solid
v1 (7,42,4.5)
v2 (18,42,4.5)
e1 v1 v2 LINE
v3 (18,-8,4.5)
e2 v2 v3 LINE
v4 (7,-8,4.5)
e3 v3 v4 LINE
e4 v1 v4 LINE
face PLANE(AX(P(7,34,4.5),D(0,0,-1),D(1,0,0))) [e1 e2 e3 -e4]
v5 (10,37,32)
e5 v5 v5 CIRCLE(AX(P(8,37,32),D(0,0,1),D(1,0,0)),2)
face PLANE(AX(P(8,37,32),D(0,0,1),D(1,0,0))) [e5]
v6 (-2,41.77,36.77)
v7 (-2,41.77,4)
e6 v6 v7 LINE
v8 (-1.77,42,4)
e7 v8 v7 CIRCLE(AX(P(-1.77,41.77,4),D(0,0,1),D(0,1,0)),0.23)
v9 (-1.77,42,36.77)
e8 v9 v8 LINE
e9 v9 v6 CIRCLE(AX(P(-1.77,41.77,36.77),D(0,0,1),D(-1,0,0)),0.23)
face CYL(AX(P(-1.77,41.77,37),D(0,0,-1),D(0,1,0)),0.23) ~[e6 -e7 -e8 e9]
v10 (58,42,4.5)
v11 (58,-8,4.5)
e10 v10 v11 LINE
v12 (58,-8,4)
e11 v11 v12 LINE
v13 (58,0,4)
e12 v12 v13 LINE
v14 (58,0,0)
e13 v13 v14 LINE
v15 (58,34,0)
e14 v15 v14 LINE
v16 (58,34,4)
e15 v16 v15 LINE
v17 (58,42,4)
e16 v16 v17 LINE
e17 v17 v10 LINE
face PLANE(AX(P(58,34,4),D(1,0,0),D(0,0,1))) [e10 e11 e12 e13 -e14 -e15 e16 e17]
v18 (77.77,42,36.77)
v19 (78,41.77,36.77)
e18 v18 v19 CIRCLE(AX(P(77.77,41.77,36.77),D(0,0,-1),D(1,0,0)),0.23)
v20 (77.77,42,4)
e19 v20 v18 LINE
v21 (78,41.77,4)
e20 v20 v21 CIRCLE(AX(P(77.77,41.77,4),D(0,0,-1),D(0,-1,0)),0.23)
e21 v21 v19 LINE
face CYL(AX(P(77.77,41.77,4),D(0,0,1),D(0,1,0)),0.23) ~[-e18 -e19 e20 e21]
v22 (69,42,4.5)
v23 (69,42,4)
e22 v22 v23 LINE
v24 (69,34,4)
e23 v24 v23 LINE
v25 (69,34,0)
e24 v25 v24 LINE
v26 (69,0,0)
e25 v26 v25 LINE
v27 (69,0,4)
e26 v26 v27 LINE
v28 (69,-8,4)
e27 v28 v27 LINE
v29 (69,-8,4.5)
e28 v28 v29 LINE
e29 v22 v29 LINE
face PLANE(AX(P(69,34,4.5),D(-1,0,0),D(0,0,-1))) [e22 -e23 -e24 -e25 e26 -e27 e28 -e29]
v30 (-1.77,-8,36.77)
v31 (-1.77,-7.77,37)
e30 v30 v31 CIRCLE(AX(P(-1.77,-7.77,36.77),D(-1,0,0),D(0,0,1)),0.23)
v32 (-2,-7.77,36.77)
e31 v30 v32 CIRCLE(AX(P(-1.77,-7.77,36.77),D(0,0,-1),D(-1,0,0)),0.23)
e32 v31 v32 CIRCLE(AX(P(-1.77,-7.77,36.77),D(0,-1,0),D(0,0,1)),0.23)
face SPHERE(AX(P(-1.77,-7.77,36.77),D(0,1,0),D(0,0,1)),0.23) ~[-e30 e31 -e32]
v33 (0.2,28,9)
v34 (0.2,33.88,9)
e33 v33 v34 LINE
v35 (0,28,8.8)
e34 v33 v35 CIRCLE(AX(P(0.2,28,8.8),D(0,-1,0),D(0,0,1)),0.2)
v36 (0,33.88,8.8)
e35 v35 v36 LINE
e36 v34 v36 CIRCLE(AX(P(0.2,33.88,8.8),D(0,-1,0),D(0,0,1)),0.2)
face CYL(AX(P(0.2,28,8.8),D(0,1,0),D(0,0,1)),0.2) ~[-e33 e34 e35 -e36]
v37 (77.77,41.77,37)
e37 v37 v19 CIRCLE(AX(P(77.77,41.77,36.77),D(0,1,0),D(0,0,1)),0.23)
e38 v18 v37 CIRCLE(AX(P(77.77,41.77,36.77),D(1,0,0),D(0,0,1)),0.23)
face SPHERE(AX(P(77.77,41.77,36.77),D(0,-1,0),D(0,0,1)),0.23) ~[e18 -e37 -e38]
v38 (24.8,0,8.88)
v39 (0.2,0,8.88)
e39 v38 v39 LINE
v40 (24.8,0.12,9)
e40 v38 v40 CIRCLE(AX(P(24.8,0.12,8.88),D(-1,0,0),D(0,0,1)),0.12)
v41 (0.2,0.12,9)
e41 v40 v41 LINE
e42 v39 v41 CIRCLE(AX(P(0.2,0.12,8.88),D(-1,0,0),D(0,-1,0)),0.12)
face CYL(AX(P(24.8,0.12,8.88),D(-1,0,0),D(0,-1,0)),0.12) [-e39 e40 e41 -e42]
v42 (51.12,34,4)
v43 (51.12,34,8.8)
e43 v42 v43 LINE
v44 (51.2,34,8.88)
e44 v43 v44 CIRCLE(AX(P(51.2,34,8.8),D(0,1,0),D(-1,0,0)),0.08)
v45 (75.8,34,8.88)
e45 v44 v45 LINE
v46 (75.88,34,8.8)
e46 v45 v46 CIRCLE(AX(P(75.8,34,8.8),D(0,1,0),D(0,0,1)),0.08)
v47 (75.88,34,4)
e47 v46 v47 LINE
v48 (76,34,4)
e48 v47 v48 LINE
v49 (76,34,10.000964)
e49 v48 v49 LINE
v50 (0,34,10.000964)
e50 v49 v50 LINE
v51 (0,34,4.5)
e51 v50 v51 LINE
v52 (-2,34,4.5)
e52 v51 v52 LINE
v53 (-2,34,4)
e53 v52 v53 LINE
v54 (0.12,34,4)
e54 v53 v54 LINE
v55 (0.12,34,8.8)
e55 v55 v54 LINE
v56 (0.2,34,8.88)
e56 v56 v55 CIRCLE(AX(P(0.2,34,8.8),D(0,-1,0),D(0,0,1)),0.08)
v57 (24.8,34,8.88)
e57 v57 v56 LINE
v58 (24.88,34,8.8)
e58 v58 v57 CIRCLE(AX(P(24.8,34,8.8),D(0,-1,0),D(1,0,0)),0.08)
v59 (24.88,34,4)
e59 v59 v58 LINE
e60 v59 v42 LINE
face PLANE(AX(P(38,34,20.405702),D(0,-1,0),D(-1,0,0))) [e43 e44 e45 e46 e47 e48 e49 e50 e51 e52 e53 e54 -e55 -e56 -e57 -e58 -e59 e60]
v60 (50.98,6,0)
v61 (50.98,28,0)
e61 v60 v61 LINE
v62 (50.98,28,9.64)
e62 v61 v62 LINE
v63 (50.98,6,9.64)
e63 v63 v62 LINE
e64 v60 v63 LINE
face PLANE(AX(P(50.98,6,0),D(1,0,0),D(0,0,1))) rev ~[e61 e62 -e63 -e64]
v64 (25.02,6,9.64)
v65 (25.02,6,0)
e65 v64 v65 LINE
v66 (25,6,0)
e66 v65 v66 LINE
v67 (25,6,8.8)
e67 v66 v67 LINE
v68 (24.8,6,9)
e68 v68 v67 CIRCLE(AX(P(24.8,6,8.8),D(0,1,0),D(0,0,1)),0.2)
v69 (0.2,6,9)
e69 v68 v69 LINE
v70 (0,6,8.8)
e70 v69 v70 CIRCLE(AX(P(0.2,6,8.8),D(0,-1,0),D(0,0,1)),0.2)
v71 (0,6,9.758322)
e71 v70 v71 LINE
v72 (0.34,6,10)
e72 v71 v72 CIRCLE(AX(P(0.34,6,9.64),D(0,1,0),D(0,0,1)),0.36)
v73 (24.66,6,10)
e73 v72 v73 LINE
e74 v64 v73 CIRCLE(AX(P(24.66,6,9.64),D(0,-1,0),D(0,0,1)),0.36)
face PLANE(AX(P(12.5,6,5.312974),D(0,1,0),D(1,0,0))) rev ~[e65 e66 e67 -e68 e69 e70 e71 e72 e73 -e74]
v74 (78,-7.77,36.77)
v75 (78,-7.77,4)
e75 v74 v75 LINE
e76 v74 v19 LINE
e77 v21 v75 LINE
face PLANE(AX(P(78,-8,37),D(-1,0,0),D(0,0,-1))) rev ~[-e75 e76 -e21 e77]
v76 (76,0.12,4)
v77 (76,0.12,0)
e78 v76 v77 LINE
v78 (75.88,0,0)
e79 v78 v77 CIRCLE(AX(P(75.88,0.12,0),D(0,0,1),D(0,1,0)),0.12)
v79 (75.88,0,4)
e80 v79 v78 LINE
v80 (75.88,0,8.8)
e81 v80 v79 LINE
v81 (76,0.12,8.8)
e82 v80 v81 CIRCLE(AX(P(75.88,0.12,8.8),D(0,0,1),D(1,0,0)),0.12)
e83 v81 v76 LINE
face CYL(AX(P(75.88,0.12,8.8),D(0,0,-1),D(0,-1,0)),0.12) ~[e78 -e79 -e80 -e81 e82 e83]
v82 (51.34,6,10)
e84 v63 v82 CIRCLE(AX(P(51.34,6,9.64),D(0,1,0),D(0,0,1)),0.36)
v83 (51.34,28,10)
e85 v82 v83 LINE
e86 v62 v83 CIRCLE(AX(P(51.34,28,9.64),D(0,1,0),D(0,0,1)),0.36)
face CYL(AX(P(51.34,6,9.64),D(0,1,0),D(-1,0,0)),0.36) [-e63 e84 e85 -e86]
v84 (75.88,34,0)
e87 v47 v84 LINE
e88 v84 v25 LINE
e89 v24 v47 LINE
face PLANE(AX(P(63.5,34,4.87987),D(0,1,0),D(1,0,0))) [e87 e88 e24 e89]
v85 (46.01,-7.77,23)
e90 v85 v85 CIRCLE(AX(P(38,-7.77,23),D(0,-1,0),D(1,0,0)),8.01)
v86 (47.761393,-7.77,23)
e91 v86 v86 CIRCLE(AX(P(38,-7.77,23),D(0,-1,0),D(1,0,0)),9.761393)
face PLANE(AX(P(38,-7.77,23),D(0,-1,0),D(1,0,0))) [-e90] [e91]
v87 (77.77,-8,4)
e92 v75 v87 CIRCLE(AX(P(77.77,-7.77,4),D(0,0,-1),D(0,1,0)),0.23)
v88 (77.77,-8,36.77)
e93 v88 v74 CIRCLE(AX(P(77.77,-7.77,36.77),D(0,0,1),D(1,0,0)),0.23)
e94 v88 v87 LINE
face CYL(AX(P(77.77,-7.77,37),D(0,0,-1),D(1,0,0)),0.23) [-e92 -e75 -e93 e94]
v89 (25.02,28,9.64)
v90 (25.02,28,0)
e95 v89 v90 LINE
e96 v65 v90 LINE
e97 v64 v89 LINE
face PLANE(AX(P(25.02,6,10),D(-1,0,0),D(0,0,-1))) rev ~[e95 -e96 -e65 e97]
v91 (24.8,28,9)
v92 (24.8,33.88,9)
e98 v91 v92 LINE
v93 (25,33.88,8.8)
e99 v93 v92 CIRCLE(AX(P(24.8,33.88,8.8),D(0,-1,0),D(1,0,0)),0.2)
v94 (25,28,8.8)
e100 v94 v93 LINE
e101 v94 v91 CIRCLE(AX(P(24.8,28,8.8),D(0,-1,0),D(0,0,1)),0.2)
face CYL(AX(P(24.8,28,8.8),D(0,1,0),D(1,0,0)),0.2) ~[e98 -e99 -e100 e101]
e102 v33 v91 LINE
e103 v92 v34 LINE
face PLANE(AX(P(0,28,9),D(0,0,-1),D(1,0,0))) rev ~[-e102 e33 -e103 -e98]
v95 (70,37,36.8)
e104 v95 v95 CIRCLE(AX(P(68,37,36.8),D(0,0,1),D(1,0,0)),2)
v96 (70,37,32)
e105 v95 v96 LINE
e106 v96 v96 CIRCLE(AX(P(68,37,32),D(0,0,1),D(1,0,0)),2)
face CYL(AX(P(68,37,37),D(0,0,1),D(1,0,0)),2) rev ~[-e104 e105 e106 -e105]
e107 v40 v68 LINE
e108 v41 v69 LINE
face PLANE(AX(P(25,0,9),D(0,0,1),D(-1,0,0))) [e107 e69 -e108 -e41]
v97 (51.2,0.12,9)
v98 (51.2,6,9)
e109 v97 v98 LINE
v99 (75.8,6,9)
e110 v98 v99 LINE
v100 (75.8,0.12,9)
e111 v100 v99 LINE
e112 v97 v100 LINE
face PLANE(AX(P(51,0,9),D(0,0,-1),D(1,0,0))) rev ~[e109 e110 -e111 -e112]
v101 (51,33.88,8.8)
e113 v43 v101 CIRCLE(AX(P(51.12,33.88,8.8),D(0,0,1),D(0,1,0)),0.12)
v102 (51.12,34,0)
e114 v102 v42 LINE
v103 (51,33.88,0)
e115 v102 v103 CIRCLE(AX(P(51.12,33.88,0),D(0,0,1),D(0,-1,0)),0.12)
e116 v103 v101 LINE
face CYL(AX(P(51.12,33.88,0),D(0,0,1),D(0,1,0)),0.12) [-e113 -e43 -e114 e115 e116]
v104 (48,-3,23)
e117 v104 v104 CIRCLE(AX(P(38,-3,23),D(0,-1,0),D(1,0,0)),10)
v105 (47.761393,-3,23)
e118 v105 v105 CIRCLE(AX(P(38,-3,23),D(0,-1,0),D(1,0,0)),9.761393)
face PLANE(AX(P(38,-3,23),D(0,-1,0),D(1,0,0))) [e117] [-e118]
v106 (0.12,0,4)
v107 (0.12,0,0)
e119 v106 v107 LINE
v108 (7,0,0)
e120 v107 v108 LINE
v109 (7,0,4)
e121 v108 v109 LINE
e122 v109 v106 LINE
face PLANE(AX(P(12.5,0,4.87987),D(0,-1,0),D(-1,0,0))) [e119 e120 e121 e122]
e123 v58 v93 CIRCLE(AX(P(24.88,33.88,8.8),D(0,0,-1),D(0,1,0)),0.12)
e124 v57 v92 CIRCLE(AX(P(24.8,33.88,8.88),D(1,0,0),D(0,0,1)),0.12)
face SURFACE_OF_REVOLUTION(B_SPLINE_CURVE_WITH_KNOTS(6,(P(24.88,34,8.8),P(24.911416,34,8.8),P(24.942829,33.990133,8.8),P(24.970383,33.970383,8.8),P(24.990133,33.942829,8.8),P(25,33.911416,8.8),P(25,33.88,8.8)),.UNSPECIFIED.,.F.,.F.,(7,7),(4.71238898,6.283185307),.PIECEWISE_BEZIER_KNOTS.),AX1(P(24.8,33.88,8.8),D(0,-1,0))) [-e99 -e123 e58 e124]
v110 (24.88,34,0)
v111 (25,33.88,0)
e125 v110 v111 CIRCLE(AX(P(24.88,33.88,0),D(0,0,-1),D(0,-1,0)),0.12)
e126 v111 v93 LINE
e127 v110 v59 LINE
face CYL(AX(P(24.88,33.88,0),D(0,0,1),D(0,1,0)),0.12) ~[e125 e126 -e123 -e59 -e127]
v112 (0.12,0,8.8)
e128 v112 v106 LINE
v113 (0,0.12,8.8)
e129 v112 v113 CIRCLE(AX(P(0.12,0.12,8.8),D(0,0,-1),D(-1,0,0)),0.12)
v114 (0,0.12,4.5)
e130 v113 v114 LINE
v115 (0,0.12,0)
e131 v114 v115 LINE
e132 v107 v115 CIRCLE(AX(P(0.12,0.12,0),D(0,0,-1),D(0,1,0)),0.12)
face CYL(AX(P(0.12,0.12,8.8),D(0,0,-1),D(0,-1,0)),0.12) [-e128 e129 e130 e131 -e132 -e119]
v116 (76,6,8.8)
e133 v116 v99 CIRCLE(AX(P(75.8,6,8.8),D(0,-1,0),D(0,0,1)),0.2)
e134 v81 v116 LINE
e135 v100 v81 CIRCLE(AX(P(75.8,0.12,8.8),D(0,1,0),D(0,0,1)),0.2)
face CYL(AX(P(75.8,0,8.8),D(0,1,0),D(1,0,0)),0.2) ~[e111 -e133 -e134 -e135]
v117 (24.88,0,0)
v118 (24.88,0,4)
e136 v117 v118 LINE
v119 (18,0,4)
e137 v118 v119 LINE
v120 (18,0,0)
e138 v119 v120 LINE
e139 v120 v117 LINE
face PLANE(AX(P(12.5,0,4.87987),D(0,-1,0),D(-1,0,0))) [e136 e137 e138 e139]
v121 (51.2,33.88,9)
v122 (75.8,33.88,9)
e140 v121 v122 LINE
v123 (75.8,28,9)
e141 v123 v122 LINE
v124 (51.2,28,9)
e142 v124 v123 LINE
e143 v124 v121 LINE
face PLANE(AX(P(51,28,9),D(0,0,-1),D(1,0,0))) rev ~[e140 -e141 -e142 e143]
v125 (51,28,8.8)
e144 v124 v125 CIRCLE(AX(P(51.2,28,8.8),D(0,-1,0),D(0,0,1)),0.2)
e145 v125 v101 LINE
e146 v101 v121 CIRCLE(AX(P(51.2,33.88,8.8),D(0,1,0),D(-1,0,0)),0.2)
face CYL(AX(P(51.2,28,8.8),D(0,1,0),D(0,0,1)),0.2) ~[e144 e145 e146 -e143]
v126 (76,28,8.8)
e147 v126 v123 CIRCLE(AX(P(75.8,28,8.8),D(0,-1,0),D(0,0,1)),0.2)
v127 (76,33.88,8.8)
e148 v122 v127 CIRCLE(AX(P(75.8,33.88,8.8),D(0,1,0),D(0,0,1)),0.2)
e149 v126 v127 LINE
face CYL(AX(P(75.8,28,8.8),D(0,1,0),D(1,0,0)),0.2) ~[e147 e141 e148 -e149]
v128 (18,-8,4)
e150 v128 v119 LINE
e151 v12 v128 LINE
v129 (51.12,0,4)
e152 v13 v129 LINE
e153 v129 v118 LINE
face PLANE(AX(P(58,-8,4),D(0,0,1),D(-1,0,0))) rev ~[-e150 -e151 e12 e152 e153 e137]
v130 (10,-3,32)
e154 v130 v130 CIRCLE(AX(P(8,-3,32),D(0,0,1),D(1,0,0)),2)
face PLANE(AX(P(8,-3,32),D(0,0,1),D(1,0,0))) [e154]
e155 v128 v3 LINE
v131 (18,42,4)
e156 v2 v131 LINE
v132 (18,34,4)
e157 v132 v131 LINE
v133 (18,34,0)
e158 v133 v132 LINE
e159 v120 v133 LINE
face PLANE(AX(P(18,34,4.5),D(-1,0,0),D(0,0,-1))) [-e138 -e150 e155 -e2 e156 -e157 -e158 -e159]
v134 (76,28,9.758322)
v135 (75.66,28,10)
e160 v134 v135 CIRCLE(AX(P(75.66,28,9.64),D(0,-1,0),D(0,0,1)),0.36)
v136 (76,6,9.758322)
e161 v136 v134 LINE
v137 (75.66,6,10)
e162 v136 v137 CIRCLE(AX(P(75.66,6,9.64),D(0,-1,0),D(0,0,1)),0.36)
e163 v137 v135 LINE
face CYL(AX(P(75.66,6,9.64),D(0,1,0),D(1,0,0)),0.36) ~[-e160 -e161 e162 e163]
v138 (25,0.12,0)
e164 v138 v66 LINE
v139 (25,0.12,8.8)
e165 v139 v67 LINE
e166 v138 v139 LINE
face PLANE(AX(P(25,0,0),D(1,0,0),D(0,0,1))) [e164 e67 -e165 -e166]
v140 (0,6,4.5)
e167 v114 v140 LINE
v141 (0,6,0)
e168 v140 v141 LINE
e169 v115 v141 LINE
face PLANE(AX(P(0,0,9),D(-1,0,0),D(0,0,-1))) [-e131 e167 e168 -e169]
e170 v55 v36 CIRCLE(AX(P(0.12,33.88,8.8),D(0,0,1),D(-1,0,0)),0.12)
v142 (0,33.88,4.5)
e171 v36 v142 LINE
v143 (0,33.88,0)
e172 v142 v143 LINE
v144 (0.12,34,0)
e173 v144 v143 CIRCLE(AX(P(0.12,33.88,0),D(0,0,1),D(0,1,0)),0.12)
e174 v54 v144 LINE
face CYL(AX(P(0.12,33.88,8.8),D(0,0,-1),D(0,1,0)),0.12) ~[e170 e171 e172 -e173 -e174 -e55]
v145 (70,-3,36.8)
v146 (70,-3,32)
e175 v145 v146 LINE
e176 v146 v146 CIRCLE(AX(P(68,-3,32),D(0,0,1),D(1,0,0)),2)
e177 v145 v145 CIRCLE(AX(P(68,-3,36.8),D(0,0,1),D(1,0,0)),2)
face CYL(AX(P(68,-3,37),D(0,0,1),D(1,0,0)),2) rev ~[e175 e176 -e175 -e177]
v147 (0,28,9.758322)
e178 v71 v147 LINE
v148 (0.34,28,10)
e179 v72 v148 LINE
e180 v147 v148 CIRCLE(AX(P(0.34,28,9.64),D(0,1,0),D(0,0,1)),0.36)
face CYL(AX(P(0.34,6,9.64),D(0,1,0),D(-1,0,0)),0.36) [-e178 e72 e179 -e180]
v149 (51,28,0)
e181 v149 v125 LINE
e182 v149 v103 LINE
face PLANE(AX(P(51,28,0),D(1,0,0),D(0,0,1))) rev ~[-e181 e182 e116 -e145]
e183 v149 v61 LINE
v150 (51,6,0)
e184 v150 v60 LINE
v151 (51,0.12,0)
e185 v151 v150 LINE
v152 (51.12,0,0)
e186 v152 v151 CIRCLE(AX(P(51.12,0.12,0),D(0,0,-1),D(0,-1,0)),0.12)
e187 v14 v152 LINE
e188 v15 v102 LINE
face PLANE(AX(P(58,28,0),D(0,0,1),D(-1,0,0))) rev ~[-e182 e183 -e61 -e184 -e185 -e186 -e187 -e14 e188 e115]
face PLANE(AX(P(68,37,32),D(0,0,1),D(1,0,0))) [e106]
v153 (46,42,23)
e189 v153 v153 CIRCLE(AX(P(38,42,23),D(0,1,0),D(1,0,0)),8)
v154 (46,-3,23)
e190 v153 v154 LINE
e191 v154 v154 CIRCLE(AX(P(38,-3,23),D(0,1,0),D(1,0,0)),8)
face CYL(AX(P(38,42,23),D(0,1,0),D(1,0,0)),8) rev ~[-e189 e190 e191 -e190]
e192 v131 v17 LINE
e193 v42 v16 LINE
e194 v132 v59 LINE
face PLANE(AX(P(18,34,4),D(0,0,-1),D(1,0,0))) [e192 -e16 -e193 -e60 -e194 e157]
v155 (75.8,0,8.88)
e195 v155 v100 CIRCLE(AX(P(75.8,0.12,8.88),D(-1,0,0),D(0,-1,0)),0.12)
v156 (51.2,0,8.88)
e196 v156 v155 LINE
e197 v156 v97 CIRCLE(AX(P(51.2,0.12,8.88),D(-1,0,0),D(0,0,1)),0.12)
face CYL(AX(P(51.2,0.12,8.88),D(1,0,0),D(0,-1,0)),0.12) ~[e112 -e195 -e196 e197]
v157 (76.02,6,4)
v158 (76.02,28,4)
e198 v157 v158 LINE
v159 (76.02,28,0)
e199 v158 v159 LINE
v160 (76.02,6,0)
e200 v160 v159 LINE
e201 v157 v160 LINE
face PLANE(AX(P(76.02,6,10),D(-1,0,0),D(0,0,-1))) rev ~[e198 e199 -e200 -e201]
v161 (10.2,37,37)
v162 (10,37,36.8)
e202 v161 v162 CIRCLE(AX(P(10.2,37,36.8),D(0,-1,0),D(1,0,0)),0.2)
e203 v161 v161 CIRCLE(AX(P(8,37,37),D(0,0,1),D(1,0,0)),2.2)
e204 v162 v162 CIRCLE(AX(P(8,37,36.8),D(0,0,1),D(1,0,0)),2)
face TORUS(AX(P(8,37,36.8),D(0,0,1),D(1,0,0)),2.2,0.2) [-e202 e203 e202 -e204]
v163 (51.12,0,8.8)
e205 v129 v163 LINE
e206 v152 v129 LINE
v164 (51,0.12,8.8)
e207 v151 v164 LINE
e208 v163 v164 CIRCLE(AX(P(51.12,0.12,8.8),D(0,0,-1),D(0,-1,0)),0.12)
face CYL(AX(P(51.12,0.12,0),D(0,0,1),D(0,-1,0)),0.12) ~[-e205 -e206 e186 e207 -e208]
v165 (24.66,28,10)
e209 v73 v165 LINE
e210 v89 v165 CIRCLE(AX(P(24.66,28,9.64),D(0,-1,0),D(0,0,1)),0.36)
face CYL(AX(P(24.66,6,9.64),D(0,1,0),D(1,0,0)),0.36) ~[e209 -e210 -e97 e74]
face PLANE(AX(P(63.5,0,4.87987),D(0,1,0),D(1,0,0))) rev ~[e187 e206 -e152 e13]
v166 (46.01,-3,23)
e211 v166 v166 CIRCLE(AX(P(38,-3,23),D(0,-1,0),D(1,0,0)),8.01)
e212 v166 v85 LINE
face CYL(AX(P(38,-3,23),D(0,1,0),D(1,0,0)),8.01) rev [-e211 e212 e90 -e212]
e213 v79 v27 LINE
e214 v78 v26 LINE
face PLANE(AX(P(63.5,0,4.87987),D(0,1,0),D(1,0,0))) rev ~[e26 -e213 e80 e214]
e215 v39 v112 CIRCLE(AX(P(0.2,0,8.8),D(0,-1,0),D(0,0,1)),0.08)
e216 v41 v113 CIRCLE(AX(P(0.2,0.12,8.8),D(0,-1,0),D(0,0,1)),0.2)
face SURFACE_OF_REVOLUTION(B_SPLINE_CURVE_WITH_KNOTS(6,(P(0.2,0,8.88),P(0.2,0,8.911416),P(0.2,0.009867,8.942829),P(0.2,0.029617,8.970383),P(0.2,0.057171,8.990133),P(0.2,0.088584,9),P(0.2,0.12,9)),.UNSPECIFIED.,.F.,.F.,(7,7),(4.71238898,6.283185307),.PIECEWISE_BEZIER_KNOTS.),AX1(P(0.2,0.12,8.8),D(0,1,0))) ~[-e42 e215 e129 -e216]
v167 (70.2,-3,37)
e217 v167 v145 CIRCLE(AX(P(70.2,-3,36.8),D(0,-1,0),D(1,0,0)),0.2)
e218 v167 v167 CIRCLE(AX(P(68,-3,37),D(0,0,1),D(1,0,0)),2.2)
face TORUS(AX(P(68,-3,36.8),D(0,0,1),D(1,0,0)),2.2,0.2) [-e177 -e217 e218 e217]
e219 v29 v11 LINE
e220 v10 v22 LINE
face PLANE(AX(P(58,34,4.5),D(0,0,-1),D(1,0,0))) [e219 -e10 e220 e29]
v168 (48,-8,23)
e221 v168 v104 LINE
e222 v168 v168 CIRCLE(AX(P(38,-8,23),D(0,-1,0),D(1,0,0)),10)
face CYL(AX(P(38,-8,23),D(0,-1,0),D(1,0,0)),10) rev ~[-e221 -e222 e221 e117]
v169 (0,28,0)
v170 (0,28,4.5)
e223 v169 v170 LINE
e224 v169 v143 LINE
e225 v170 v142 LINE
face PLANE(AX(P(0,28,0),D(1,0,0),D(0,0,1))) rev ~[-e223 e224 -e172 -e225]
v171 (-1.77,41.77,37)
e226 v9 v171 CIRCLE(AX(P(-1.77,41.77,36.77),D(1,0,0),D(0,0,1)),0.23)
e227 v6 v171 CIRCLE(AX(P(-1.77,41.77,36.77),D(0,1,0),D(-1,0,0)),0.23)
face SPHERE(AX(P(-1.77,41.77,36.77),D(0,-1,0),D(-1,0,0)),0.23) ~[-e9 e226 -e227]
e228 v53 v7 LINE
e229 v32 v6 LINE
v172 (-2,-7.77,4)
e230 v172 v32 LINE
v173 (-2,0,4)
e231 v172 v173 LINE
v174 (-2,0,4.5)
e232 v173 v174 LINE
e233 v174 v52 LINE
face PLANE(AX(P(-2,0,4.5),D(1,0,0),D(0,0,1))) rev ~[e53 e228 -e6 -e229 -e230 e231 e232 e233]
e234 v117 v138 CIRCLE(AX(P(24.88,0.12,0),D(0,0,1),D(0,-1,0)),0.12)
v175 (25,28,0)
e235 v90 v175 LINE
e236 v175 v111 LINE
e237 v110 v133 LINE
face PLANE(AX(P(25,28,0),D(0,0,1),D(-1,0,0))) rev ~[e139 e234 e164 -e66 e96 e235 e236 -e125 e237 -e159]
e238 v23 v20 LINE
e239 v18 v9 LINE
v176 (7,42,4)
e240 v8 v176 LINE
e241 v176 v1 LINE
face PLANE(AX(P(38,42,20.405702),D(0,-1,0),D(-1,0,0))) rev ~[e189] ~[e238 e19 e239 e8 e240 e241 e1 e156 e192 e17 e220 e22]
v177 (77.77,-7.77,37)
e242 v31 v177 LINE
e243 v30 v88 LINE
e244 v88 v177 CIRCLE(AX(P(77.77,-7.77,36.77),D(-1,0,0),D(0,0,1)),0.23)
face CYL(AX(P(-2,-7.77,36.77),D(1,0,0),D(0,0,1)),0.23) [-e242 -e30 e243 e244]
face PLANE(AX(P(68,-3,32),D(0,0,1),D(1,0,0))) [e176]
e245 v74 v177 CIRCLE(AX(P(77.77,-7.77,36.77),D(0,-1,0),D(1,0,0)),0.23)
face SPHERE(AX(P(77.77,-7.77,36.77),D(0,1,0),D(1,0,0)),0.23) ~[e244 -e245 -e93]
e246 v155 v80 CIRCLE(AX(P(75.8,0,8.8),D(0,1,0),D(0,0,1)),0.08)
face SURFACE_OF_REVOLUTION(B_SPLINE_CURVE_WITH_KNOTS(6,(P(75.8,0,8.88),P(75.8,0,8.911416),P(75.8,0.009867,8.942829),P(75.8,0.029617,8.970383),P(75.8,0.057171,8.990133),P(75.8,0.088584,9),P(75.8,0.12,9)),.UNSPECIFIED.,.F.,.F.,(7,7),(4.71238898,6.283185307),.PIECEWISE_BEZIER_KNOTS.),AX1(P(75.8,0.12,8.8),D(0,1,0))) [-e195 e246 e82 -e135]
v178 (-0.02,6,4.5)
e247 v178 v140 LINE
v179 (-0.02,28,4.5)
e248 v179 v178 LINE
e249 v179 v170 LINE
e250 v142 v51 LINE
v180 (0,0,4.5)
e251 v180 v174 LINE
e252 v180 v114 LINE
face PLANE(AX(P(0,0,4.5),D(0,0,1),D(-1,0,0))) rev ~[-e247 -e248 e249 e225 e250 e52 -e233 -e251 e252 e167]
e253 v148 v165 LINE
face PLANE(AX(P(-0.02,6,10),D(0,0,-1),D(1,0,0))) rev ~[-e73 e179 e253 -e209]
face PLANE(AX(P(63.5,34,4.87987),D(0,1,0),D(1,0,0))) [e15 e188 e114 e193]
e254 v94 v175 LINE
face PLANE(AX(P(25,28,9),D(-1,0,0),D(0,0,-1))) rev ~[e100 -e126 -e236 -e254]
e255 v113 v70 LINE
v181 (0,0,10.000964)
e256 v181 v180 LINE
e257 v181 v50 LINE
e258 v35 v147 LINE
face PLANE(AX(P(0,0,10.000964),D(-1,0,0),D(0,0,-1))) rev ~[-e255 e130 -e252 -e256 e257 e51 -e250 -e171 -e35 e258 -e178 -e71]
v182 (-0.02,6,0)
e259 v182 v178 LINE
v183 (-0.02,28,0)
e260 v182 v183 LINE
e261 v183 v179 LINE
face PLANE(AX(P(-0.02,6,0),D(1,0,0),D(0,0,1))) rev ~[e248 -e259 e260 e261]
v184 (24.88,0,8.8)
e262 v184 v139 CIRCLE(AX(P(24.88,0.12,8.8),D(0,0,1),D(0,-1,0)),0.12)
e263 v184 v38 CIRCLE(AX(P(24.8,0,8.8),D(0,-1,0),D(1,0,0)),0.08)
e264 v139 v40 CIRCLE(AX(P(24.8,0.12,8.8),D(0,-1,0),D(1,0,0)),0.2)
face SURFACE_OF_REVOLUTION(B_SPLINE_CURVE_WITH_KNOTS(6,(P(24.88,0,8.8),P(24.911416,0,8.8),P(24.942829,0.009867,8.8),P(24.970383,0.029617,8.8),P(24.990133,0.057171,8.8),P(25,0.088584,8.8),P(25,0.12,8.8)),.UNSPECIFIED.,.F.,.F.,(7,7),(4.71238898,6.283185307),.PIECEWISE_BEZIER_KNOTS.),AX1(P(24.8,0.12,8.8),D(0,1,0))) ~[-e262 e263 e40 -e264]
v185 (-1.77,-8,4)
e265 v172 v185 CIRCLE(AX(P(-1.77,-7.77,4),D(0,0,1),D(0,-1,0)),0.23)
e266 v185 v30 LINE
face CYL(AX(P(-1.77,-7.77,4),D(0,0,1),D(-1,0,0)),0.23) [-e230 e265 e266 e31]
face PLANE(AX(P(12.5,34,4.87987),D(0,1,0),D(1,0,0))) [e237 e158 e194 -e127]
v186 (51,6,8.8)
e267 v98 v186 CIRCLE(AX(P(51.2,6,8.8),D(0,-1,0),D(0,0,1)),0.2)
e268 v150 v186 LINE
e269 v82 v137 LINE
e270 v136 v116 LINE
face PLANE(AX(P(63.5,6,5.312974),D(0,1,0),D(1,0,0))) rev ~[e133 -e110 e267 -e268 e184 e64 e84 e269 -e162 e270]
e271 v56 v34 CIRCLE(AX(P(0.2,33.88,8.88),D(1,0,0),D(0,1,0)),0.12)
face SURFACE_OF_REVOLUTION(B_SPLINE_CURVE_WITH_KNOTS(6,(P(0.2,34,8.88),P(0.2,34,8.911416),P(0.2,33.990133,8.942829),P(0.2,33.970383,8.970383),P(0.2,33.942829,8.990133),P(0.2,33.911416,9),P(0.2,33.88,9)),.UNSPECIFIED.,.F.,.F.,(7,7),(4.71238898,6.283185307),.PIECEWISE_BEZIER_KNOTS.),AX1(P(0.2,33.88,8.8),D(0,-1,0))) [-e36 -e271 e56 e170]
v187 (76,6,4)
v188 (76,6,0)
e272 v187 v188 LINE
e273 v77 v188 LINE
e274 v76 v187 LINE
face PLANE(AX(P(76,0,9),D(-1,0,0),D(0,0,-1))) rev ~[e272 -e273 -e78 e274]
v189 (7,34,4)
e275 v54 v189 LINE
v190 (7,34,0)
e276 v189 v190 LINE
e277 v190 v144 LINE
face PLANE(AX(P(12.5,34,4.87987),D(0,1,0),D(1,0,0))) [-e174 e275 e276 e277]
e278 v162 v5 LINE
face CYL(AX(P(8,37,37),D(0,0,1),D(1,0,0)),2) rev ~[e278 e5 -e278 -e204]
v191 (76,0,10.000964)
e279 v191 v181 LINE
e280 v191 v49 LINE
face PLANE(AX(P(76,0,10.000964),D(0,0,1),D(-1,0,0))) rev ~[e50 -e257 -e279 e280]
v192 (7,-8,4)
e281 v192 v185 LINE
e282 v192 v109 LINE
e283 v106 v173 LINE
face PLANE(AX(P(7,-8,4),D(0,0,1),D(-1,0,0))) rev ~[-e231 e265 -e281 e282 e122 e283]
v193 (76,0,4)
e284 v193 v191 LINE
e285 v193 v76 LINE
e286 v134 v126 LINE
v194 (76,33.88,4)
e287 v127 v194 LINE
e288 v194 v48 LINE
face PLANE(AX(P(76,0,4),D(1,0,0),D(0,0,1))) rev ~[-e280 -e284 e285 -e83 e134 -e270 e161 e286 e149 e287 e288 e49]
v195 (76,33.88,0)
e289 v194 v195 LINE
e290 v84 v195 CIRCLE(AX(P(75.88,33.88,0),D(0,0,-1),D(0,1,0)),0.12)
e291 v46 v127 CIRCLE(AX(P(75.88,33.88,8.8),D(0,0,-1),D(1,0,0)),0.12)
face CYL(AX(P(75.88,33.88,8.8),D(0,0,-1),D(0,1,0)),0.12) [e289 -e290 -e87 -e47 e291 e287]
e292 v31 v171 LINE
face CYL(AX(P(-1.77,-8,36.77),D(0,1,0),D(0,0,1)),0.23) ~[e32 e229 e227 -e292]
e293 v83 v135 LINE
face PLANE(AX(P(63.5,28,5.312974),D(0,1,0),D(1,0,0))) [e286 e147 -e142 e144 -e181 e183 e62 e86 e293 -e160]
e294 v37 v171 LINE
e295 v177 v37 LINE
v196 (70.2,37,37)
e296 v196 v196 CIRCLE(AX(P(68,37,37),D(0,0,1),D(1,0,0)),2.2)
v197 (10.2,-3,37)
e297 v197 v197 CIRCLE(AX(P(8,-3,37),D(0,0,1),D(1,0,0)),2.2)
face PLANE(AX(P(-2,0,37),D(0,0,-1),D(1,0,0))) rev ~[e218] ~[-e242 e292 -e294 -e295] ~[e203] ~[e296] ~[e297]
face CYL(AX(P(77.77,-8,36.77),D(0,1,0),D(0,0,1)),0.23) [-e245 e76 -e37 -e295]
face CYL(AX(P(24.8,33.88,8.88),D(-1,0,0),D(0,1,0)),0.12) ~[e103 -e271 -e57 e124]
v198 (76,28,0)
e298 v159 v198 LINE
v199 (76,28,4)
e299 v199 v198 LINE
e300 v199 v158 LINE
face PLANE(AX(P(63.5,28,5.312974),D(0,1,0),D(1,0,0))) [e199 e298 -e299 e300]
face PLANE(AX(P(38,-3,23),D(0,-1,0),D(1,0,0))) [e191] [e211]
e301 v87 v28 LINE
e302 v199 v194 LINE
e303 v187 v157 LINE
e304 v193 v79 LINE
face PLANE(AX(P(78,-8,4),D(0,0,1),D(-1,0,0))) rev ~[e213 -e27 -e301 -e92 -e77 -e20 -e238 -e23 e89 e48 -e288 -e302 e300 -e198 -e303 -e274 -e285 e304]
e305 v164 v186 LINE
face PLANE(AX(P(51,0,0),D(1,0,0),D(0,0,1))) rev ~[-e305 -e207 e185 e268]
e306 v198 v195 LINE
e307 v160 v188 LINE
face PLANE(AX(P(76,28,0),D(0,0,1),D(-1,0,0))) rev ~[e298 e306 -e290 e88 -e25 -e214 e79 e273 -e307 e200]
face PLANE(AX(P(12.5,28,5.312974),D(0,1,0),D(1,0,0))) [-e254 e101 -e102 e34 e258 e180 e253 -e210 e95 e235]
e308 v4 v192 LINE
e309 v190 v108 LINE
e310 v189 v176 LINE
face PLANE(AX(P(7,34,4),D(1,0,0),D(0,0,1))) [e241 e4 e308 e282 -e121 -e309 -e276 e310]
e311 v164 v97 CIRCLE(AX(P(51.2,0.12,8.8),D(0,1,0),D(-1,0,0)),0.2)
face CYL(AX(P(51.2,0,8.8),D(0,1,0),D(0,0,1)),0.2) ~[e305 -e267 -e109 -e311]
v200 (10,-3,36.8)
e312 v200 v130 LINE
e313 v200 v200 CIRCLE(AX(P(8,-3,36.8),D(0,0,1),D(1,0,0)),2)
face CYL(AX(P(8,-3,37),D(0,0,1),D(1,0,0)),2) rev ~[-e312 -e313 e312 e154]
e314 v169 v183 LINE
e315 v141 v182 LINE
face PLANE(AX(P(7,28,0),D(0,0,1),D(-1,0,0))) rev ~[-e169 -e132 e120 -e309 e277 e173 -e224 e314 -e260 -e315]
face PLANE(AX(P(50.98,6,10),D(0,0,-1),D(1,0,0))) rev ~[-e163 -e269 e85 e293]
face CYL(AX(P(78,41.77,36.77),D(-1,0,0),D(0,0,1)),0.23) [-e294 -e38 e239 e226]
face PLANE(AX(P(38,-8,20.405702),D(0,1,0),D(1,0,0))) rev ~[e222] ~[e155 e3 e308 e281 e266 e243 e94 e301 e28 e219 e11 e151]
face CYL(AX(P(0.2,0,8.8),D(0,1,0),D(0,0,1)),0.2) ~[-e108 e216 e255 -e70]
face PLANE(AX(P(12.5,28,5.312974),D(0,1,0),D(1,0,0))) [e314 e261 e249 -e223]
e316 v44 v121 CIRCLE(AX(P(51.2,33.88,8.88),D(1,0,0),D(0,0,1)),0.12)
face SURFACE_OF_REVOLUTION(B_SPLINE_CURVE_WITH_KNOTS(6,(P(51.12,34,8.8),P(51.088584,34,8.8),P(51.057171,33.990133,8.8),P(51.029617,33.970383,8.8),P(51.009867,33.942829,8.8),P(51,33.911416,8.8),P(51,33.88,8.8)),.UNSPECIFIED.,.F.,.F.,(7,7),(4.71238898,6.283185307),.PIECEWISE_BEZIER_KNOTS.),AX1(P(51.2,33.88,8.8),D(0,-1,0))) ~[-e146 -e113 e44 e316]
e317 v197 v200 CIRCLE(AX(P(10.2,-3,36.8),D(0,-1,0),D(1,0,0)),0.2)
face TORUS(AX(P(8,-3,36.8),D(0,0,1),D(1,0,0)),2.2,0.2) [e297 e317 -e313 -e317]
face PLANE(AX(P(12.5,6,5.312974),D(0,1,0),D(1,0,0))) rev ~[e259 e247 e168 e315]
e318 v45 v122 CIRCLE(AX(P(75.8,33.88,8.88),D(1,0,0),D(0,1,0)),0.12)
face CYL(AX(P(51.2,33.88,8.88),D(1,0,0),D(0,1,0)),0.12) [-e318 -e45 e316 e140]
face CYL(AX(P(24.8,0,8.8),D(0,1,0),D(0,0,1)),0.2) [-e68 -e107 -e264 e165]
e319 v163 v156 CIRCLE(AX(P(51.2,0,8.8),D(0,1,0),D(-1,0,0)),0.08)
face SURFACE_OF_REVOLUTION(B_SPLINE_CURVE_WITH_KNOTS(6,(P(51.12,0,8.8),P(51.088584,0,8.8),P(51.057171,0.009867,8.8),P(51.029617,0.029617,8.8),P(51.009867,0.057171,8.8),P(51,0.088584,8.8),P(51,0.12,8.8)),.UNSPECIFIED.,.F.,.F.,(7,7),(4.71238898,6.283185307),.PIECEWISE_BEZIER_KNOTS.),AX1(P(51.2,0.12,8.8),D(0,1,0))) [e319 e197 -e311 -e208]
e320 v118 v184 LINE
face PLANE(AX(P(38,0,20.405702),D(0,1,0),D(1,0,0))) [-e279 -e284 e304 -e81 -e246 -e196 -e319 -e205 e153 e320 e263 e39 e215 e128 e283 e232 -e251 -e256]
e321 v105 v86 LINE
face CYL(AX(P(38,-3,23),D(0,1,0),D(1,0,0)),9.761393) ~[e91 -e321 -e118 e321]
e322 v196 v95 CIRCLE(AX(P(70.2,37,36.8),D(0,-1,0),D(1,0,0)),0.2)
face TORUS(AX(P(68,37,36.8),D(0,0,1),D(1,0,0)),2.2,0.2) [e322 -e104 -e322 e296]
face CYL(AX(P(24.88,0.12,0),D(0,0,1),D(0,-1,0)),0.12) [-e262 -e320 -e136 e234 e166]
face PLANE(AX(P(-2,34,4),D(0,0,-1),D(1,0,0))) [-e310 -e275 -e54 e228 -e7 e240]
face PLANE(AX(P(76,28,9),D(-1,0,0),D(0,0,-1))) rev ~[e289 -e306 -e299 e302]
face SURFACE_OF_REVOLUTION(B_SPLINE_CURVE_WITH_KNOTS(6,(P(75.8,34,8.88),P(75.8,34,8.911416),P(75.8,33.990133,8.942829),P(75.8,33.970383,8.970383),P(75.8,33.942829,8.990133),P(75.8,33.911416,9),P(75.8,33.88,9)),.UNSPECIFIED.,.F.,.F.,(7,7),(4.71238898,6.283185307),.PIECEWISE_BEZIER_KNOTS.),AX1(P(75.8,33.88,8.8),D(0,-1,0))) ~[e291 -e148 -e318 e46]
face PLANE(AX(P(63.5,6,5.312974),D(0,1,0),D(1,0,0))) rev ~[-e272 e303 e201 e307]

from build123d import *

# Parameters (mm, degrees)
EXTRUDE_1_DEPTH     = 6
EXTRUDE_1_2_DEPTH   = 6
EXTRUDE_2_DEPTH     = 22
EXTRUDE_3_DEPTH     = 6
FILLET_1_R          = 0.2
FILLET_2_R          = 0.12
FILLET_3_R          = 0.36
FILLET_4_R          = 0.2
FILLET_5_R          = 0.12
FILLET_6_R          = 0.36
EXTRUDE_12_DEPTH    = 8
EXTRUDE_13_DEPTH    = 8
EXTRUDE_14_DEPTH    = 34
SKETCH_7_R          = 8
CUT_EXTRUDE_1_DEPTH = 50
SKETCH_8_R          = 10
CUT_EXTRUDE_2_DEPTH = 5
SKETCH_9_R          = 9.761392529
SKETCH_9_R_2        = 8.01
EXTRUDE_16_DEPTH    = 4.77
SKETCH_10_R         = 2
CUT_EXTRUDE_3_DEPTH = 5
FILLET_7_R          = 0.2
FILLET_8_R          = 0.23


with BuildPart() as part:
    # 草图1 → 凸台-拉伸1 (new body)
    with BuildSketch(Plane(origin=(0, 0, 0), x_dir=(1, 0, 0), z_dir=(0, 1, 0))):
        Polygon((0, 0), (7, 0), (7, -4.5), (18, -4.5), (18, 0), (25, 0), (25, -9), (0, -9), align=None)
    extrude(amount=EXTRUDE_1_DEPTH)



with BuildPart() as body_2:
    # 草图1 → Extrude 1 2 (new body)
    with BuildSketch(Plane(origin=(0, 0, 0), x_dir=(1, 0, 0), z_dir=(0, 1, 0))):
        Polygon((51, 0), (51, -9), (76, -9), (76, 0), (69, 0), (69, -4.5), (58, -4.5), (58, 0), align=None)
    extrude(amount=EXTRUDE_1_2_DEPTH)


with BuildPart() as part_1:
    add(part.part)

    add(body_2.part)  # 凸台-拉伸2 merges body 2
    # 草图2 → 凸台-拉伸2 (add)
    with BuildSketch(Plane(origin=(0, 6, 0), x_dir=(1, 0, 0), z_dir=(0, 1, 0))):
        Polygon((7, 0), (-0.02, 0), (-0.02, -10), (25.02, -10), (25.02, 0), (18, 0), (18, -4.5), (7, -4.5), align=None)
        Polygon((58, 0), (50.98, 0), (50.98, -10), (76.02, -10), (76.02, 0), (69, 0), (69, -4.5), (58, -4.5), align=None)
    extrude(amount=EXTRUDE_2_DEPTH)

    # 草图3 → 凸台-拉伸3 (add)
    with BuildSketch(Plane(origin=(0, 28, 0), x_dir=(1, 0, 0), z_dir=(0, 1, 0))):
        Polygon((7, 0), (0, 0), (0, -9), (25, -9), (25, 0), (18, 0), (18, -4.5), (7, -4.5), align=None)
        Polygon((58, 0), (51, 0), (51, -9), (76, -9), (76, 0), (69, 0), (69, -4.5), (58, -4.5), align=None)
    extrude(amount=EXTRUDE_3_DEPTH)

    # 圆角1
    fillet_1_edges = [part_1.edges().sort_by_distance(p)[0] for p in [
        (25, 3, 9),
        (0, 3, 9),
        (0, 31, 9),
        (25, 31, 9),
    ]]
    fillet(fillet_1_edges, radius=FILLET_1_R)

    # 圆角2
    fillet_2_edges = [part_1.edges().sort_by_distance(p)[0] for p in [
        (0.058578644, 34, 8.941421356),
        (24.941421356, 34, 8.941421356),
        (0, 0, 4.4),
        (0, 34, 4.4),
        (25, 0, 4.4),
        (12.5, 0, 9),
        (0.058578644, 0, 8.941421356),
        (24.941421356, 0, 8.941421356),
        (25, 34, 4.4),
        (12.5, 34, 9),
    ]]
    fillet(fillet_2_edges, radius=FILLET_2_R)

    # 圆角3
    fillet_3_edges = [part_1.edges().sort_by_distance(p)[0] for p in [
        (-0.02, 17, 10),
        (25.02, 17, 10),
    ]]
    fillet(fillet_3_edges, radius=FILLET_3_R)

    # 圆角4
    fillet_4_edges = [part_1.edges().sort_by_distance(p)[0] for p in [
        (51, 31, 9),
        (76, 31, 9),
        (76, 3, 9),
        (51, 3, 9),
    ]]
    fillet(fillet_4_edges, radius=FILLET_4_R)

    # 圆角5
    fillet_5_edges = [part_1.edges().sort_by_distance(p)[0] for p in [
        (51, 34, 4.4),
        (51, 0, 4.4),
        (76, 0, 4.4),
        (63.5, 0, 9),
        (51.058578644, 0, 8.941421356),
        (75.941421356, 0, 8.941421356),
        (63.5, 34, 9),
        (76, 34, 4.4),
        (75.941421356, 34, 8.941421356),
        (51.058578644, 34, 8.941421356),
    ]]
    fillet(fillet_5_edges, radius=FILLET_5_R)

    # 圆角6
    fillet_6_edges = [part_1.edges().sort_by_distance(p)[0] for p in [
        (50.98, 17, 10),
        (76.02, 17, 10),
    ]]
    fillet(fillet_6_edges, radius=FILLET_6_R)

    # 草图4 → 凸台-拉伸12 (add)
    with BuildSketch(Plane(origin=(0, -8, 0), x_dir=(-1, 0, 0), z_dir=(0, -1, 0))):
        Polygon((-7, -4.5), (-7, -4), (2, -4), (2, -37), (-78, -37), (-78, -4), (-69, -4), (-69, -4.5), (-58, -4.5), (-58, -4), (-18, -4), (-18, -4.5), align=None)
    extrude(amount=-EXTRUDE_12_DEPTH)

    # 草图5 → 凸台-拉伸13 (add)
    with BuildSketch(Plane(origin=(0, 34, 0), x_dir=(1, 0, 0), z_dir=(0, 1, 0))):
        Polygon((7, -4), (7, -4.5), (18, -4.5), (18, -4), (58, -4), (58, -4.5), (69, -4.5), (69, -4), (78, -4), (78, -37), (-2, -37), (-2, -4), align=None)
    extrude(amount=EXTRUDE_13_DEPTH)

    # 草图6 → 凸台-拉伸14 (add)
    with BuildSketch(Plane(origin=(0, 0, 0), x_dir=(1, 0, 0), z_dir=(0, 1, 0))):
        Polygon((0, -4.5), (-2, -4.5), (-2, -37), (78, -37), (78, -4), (76, -4), (76, -10.000963712), (0, -10.000963712), align=None)
    extrude(amount=EXTRUDE_14_DEPTH)

    # 草图7 → 切除-拉伸1 (cut)
    with BuildSketch(Plane(origin=(0, 42, 0), x_dir=(1, 0, 0), z_dir=(0, 1, 0))):
        with Locations((38, -23)):
            Circle(SKETCH_7_R)
    extrude(amount=-CUT_EXTRUDE_1_DEPTH, mode=Mode.SUBTRACT)

    # 草图8 → 切除-拉伸2 (cut)
    with BuildSketch(Plane.XZ.offset(8)):
        with Locations((38, 23)):
            Circle(SKETCH_8_R)
    extrude(amount=-CUT_EXTRUDE_2_DEPTH, mode=Mode.SUBTRACT)

    # 草图9 → 凸台-拉伸16 (add)
    with BuildSketch(Plane.XZ.offset(3)):
        with Locations((38, 23)):
            Circle(SKETCH_9_R)
        with Locations((38, 23)):
            Circle(SKETCH_9_R_2, mode=Mode.SUBTRACT)
    extrude(amount=EXTRUDE_16_DEPTH)

    # 草图10 → 切除-拉伸3 (cut)
    with BuildSketch(Plane.XY.offset(37)):
        with Locations((8, 37)):
            Circle(SKETCH_10_R)
        with Locations((8, -3)):
            Circle(SKETCH_10_R)
        with Locations((68, -3)):
            Circle(SKETCH_10_R)
        with Locations((68, 37)):
            Circle(SKETCH_10_R)
    extrude(amount=-CUT_EXTRUDE_3_DEPTH, mode=Mode.SUBTRACT)

    # 圆角7
    fillet_7_edges = [part_1.edges().sort_by_distance(p)[0] for p in [
        (66, 37, 37),
        (66, -3, 37),
        (6, -3, 37),
        (6, 37, 37),
    ]]
    fillet(fillet_7_edges, radius=FILLET_7_R)

    # 圆角8
    fillet_8_edges = [part_1.edges().sort_by_distance(p)[0] for p in [
        (-2, 17, 37),
        (78, 17, 37),
        (78, -8, 20.5),
        (38, -8, 37),
        (-2, -8, 20.5),
        (-2, 42, 20.5),
        (38, 42, 37),
        (78, 42, 20.5),
    ]]
    fillet(fillet_8_edges, radius=FILLET_8_R)


solid = part_1.part
